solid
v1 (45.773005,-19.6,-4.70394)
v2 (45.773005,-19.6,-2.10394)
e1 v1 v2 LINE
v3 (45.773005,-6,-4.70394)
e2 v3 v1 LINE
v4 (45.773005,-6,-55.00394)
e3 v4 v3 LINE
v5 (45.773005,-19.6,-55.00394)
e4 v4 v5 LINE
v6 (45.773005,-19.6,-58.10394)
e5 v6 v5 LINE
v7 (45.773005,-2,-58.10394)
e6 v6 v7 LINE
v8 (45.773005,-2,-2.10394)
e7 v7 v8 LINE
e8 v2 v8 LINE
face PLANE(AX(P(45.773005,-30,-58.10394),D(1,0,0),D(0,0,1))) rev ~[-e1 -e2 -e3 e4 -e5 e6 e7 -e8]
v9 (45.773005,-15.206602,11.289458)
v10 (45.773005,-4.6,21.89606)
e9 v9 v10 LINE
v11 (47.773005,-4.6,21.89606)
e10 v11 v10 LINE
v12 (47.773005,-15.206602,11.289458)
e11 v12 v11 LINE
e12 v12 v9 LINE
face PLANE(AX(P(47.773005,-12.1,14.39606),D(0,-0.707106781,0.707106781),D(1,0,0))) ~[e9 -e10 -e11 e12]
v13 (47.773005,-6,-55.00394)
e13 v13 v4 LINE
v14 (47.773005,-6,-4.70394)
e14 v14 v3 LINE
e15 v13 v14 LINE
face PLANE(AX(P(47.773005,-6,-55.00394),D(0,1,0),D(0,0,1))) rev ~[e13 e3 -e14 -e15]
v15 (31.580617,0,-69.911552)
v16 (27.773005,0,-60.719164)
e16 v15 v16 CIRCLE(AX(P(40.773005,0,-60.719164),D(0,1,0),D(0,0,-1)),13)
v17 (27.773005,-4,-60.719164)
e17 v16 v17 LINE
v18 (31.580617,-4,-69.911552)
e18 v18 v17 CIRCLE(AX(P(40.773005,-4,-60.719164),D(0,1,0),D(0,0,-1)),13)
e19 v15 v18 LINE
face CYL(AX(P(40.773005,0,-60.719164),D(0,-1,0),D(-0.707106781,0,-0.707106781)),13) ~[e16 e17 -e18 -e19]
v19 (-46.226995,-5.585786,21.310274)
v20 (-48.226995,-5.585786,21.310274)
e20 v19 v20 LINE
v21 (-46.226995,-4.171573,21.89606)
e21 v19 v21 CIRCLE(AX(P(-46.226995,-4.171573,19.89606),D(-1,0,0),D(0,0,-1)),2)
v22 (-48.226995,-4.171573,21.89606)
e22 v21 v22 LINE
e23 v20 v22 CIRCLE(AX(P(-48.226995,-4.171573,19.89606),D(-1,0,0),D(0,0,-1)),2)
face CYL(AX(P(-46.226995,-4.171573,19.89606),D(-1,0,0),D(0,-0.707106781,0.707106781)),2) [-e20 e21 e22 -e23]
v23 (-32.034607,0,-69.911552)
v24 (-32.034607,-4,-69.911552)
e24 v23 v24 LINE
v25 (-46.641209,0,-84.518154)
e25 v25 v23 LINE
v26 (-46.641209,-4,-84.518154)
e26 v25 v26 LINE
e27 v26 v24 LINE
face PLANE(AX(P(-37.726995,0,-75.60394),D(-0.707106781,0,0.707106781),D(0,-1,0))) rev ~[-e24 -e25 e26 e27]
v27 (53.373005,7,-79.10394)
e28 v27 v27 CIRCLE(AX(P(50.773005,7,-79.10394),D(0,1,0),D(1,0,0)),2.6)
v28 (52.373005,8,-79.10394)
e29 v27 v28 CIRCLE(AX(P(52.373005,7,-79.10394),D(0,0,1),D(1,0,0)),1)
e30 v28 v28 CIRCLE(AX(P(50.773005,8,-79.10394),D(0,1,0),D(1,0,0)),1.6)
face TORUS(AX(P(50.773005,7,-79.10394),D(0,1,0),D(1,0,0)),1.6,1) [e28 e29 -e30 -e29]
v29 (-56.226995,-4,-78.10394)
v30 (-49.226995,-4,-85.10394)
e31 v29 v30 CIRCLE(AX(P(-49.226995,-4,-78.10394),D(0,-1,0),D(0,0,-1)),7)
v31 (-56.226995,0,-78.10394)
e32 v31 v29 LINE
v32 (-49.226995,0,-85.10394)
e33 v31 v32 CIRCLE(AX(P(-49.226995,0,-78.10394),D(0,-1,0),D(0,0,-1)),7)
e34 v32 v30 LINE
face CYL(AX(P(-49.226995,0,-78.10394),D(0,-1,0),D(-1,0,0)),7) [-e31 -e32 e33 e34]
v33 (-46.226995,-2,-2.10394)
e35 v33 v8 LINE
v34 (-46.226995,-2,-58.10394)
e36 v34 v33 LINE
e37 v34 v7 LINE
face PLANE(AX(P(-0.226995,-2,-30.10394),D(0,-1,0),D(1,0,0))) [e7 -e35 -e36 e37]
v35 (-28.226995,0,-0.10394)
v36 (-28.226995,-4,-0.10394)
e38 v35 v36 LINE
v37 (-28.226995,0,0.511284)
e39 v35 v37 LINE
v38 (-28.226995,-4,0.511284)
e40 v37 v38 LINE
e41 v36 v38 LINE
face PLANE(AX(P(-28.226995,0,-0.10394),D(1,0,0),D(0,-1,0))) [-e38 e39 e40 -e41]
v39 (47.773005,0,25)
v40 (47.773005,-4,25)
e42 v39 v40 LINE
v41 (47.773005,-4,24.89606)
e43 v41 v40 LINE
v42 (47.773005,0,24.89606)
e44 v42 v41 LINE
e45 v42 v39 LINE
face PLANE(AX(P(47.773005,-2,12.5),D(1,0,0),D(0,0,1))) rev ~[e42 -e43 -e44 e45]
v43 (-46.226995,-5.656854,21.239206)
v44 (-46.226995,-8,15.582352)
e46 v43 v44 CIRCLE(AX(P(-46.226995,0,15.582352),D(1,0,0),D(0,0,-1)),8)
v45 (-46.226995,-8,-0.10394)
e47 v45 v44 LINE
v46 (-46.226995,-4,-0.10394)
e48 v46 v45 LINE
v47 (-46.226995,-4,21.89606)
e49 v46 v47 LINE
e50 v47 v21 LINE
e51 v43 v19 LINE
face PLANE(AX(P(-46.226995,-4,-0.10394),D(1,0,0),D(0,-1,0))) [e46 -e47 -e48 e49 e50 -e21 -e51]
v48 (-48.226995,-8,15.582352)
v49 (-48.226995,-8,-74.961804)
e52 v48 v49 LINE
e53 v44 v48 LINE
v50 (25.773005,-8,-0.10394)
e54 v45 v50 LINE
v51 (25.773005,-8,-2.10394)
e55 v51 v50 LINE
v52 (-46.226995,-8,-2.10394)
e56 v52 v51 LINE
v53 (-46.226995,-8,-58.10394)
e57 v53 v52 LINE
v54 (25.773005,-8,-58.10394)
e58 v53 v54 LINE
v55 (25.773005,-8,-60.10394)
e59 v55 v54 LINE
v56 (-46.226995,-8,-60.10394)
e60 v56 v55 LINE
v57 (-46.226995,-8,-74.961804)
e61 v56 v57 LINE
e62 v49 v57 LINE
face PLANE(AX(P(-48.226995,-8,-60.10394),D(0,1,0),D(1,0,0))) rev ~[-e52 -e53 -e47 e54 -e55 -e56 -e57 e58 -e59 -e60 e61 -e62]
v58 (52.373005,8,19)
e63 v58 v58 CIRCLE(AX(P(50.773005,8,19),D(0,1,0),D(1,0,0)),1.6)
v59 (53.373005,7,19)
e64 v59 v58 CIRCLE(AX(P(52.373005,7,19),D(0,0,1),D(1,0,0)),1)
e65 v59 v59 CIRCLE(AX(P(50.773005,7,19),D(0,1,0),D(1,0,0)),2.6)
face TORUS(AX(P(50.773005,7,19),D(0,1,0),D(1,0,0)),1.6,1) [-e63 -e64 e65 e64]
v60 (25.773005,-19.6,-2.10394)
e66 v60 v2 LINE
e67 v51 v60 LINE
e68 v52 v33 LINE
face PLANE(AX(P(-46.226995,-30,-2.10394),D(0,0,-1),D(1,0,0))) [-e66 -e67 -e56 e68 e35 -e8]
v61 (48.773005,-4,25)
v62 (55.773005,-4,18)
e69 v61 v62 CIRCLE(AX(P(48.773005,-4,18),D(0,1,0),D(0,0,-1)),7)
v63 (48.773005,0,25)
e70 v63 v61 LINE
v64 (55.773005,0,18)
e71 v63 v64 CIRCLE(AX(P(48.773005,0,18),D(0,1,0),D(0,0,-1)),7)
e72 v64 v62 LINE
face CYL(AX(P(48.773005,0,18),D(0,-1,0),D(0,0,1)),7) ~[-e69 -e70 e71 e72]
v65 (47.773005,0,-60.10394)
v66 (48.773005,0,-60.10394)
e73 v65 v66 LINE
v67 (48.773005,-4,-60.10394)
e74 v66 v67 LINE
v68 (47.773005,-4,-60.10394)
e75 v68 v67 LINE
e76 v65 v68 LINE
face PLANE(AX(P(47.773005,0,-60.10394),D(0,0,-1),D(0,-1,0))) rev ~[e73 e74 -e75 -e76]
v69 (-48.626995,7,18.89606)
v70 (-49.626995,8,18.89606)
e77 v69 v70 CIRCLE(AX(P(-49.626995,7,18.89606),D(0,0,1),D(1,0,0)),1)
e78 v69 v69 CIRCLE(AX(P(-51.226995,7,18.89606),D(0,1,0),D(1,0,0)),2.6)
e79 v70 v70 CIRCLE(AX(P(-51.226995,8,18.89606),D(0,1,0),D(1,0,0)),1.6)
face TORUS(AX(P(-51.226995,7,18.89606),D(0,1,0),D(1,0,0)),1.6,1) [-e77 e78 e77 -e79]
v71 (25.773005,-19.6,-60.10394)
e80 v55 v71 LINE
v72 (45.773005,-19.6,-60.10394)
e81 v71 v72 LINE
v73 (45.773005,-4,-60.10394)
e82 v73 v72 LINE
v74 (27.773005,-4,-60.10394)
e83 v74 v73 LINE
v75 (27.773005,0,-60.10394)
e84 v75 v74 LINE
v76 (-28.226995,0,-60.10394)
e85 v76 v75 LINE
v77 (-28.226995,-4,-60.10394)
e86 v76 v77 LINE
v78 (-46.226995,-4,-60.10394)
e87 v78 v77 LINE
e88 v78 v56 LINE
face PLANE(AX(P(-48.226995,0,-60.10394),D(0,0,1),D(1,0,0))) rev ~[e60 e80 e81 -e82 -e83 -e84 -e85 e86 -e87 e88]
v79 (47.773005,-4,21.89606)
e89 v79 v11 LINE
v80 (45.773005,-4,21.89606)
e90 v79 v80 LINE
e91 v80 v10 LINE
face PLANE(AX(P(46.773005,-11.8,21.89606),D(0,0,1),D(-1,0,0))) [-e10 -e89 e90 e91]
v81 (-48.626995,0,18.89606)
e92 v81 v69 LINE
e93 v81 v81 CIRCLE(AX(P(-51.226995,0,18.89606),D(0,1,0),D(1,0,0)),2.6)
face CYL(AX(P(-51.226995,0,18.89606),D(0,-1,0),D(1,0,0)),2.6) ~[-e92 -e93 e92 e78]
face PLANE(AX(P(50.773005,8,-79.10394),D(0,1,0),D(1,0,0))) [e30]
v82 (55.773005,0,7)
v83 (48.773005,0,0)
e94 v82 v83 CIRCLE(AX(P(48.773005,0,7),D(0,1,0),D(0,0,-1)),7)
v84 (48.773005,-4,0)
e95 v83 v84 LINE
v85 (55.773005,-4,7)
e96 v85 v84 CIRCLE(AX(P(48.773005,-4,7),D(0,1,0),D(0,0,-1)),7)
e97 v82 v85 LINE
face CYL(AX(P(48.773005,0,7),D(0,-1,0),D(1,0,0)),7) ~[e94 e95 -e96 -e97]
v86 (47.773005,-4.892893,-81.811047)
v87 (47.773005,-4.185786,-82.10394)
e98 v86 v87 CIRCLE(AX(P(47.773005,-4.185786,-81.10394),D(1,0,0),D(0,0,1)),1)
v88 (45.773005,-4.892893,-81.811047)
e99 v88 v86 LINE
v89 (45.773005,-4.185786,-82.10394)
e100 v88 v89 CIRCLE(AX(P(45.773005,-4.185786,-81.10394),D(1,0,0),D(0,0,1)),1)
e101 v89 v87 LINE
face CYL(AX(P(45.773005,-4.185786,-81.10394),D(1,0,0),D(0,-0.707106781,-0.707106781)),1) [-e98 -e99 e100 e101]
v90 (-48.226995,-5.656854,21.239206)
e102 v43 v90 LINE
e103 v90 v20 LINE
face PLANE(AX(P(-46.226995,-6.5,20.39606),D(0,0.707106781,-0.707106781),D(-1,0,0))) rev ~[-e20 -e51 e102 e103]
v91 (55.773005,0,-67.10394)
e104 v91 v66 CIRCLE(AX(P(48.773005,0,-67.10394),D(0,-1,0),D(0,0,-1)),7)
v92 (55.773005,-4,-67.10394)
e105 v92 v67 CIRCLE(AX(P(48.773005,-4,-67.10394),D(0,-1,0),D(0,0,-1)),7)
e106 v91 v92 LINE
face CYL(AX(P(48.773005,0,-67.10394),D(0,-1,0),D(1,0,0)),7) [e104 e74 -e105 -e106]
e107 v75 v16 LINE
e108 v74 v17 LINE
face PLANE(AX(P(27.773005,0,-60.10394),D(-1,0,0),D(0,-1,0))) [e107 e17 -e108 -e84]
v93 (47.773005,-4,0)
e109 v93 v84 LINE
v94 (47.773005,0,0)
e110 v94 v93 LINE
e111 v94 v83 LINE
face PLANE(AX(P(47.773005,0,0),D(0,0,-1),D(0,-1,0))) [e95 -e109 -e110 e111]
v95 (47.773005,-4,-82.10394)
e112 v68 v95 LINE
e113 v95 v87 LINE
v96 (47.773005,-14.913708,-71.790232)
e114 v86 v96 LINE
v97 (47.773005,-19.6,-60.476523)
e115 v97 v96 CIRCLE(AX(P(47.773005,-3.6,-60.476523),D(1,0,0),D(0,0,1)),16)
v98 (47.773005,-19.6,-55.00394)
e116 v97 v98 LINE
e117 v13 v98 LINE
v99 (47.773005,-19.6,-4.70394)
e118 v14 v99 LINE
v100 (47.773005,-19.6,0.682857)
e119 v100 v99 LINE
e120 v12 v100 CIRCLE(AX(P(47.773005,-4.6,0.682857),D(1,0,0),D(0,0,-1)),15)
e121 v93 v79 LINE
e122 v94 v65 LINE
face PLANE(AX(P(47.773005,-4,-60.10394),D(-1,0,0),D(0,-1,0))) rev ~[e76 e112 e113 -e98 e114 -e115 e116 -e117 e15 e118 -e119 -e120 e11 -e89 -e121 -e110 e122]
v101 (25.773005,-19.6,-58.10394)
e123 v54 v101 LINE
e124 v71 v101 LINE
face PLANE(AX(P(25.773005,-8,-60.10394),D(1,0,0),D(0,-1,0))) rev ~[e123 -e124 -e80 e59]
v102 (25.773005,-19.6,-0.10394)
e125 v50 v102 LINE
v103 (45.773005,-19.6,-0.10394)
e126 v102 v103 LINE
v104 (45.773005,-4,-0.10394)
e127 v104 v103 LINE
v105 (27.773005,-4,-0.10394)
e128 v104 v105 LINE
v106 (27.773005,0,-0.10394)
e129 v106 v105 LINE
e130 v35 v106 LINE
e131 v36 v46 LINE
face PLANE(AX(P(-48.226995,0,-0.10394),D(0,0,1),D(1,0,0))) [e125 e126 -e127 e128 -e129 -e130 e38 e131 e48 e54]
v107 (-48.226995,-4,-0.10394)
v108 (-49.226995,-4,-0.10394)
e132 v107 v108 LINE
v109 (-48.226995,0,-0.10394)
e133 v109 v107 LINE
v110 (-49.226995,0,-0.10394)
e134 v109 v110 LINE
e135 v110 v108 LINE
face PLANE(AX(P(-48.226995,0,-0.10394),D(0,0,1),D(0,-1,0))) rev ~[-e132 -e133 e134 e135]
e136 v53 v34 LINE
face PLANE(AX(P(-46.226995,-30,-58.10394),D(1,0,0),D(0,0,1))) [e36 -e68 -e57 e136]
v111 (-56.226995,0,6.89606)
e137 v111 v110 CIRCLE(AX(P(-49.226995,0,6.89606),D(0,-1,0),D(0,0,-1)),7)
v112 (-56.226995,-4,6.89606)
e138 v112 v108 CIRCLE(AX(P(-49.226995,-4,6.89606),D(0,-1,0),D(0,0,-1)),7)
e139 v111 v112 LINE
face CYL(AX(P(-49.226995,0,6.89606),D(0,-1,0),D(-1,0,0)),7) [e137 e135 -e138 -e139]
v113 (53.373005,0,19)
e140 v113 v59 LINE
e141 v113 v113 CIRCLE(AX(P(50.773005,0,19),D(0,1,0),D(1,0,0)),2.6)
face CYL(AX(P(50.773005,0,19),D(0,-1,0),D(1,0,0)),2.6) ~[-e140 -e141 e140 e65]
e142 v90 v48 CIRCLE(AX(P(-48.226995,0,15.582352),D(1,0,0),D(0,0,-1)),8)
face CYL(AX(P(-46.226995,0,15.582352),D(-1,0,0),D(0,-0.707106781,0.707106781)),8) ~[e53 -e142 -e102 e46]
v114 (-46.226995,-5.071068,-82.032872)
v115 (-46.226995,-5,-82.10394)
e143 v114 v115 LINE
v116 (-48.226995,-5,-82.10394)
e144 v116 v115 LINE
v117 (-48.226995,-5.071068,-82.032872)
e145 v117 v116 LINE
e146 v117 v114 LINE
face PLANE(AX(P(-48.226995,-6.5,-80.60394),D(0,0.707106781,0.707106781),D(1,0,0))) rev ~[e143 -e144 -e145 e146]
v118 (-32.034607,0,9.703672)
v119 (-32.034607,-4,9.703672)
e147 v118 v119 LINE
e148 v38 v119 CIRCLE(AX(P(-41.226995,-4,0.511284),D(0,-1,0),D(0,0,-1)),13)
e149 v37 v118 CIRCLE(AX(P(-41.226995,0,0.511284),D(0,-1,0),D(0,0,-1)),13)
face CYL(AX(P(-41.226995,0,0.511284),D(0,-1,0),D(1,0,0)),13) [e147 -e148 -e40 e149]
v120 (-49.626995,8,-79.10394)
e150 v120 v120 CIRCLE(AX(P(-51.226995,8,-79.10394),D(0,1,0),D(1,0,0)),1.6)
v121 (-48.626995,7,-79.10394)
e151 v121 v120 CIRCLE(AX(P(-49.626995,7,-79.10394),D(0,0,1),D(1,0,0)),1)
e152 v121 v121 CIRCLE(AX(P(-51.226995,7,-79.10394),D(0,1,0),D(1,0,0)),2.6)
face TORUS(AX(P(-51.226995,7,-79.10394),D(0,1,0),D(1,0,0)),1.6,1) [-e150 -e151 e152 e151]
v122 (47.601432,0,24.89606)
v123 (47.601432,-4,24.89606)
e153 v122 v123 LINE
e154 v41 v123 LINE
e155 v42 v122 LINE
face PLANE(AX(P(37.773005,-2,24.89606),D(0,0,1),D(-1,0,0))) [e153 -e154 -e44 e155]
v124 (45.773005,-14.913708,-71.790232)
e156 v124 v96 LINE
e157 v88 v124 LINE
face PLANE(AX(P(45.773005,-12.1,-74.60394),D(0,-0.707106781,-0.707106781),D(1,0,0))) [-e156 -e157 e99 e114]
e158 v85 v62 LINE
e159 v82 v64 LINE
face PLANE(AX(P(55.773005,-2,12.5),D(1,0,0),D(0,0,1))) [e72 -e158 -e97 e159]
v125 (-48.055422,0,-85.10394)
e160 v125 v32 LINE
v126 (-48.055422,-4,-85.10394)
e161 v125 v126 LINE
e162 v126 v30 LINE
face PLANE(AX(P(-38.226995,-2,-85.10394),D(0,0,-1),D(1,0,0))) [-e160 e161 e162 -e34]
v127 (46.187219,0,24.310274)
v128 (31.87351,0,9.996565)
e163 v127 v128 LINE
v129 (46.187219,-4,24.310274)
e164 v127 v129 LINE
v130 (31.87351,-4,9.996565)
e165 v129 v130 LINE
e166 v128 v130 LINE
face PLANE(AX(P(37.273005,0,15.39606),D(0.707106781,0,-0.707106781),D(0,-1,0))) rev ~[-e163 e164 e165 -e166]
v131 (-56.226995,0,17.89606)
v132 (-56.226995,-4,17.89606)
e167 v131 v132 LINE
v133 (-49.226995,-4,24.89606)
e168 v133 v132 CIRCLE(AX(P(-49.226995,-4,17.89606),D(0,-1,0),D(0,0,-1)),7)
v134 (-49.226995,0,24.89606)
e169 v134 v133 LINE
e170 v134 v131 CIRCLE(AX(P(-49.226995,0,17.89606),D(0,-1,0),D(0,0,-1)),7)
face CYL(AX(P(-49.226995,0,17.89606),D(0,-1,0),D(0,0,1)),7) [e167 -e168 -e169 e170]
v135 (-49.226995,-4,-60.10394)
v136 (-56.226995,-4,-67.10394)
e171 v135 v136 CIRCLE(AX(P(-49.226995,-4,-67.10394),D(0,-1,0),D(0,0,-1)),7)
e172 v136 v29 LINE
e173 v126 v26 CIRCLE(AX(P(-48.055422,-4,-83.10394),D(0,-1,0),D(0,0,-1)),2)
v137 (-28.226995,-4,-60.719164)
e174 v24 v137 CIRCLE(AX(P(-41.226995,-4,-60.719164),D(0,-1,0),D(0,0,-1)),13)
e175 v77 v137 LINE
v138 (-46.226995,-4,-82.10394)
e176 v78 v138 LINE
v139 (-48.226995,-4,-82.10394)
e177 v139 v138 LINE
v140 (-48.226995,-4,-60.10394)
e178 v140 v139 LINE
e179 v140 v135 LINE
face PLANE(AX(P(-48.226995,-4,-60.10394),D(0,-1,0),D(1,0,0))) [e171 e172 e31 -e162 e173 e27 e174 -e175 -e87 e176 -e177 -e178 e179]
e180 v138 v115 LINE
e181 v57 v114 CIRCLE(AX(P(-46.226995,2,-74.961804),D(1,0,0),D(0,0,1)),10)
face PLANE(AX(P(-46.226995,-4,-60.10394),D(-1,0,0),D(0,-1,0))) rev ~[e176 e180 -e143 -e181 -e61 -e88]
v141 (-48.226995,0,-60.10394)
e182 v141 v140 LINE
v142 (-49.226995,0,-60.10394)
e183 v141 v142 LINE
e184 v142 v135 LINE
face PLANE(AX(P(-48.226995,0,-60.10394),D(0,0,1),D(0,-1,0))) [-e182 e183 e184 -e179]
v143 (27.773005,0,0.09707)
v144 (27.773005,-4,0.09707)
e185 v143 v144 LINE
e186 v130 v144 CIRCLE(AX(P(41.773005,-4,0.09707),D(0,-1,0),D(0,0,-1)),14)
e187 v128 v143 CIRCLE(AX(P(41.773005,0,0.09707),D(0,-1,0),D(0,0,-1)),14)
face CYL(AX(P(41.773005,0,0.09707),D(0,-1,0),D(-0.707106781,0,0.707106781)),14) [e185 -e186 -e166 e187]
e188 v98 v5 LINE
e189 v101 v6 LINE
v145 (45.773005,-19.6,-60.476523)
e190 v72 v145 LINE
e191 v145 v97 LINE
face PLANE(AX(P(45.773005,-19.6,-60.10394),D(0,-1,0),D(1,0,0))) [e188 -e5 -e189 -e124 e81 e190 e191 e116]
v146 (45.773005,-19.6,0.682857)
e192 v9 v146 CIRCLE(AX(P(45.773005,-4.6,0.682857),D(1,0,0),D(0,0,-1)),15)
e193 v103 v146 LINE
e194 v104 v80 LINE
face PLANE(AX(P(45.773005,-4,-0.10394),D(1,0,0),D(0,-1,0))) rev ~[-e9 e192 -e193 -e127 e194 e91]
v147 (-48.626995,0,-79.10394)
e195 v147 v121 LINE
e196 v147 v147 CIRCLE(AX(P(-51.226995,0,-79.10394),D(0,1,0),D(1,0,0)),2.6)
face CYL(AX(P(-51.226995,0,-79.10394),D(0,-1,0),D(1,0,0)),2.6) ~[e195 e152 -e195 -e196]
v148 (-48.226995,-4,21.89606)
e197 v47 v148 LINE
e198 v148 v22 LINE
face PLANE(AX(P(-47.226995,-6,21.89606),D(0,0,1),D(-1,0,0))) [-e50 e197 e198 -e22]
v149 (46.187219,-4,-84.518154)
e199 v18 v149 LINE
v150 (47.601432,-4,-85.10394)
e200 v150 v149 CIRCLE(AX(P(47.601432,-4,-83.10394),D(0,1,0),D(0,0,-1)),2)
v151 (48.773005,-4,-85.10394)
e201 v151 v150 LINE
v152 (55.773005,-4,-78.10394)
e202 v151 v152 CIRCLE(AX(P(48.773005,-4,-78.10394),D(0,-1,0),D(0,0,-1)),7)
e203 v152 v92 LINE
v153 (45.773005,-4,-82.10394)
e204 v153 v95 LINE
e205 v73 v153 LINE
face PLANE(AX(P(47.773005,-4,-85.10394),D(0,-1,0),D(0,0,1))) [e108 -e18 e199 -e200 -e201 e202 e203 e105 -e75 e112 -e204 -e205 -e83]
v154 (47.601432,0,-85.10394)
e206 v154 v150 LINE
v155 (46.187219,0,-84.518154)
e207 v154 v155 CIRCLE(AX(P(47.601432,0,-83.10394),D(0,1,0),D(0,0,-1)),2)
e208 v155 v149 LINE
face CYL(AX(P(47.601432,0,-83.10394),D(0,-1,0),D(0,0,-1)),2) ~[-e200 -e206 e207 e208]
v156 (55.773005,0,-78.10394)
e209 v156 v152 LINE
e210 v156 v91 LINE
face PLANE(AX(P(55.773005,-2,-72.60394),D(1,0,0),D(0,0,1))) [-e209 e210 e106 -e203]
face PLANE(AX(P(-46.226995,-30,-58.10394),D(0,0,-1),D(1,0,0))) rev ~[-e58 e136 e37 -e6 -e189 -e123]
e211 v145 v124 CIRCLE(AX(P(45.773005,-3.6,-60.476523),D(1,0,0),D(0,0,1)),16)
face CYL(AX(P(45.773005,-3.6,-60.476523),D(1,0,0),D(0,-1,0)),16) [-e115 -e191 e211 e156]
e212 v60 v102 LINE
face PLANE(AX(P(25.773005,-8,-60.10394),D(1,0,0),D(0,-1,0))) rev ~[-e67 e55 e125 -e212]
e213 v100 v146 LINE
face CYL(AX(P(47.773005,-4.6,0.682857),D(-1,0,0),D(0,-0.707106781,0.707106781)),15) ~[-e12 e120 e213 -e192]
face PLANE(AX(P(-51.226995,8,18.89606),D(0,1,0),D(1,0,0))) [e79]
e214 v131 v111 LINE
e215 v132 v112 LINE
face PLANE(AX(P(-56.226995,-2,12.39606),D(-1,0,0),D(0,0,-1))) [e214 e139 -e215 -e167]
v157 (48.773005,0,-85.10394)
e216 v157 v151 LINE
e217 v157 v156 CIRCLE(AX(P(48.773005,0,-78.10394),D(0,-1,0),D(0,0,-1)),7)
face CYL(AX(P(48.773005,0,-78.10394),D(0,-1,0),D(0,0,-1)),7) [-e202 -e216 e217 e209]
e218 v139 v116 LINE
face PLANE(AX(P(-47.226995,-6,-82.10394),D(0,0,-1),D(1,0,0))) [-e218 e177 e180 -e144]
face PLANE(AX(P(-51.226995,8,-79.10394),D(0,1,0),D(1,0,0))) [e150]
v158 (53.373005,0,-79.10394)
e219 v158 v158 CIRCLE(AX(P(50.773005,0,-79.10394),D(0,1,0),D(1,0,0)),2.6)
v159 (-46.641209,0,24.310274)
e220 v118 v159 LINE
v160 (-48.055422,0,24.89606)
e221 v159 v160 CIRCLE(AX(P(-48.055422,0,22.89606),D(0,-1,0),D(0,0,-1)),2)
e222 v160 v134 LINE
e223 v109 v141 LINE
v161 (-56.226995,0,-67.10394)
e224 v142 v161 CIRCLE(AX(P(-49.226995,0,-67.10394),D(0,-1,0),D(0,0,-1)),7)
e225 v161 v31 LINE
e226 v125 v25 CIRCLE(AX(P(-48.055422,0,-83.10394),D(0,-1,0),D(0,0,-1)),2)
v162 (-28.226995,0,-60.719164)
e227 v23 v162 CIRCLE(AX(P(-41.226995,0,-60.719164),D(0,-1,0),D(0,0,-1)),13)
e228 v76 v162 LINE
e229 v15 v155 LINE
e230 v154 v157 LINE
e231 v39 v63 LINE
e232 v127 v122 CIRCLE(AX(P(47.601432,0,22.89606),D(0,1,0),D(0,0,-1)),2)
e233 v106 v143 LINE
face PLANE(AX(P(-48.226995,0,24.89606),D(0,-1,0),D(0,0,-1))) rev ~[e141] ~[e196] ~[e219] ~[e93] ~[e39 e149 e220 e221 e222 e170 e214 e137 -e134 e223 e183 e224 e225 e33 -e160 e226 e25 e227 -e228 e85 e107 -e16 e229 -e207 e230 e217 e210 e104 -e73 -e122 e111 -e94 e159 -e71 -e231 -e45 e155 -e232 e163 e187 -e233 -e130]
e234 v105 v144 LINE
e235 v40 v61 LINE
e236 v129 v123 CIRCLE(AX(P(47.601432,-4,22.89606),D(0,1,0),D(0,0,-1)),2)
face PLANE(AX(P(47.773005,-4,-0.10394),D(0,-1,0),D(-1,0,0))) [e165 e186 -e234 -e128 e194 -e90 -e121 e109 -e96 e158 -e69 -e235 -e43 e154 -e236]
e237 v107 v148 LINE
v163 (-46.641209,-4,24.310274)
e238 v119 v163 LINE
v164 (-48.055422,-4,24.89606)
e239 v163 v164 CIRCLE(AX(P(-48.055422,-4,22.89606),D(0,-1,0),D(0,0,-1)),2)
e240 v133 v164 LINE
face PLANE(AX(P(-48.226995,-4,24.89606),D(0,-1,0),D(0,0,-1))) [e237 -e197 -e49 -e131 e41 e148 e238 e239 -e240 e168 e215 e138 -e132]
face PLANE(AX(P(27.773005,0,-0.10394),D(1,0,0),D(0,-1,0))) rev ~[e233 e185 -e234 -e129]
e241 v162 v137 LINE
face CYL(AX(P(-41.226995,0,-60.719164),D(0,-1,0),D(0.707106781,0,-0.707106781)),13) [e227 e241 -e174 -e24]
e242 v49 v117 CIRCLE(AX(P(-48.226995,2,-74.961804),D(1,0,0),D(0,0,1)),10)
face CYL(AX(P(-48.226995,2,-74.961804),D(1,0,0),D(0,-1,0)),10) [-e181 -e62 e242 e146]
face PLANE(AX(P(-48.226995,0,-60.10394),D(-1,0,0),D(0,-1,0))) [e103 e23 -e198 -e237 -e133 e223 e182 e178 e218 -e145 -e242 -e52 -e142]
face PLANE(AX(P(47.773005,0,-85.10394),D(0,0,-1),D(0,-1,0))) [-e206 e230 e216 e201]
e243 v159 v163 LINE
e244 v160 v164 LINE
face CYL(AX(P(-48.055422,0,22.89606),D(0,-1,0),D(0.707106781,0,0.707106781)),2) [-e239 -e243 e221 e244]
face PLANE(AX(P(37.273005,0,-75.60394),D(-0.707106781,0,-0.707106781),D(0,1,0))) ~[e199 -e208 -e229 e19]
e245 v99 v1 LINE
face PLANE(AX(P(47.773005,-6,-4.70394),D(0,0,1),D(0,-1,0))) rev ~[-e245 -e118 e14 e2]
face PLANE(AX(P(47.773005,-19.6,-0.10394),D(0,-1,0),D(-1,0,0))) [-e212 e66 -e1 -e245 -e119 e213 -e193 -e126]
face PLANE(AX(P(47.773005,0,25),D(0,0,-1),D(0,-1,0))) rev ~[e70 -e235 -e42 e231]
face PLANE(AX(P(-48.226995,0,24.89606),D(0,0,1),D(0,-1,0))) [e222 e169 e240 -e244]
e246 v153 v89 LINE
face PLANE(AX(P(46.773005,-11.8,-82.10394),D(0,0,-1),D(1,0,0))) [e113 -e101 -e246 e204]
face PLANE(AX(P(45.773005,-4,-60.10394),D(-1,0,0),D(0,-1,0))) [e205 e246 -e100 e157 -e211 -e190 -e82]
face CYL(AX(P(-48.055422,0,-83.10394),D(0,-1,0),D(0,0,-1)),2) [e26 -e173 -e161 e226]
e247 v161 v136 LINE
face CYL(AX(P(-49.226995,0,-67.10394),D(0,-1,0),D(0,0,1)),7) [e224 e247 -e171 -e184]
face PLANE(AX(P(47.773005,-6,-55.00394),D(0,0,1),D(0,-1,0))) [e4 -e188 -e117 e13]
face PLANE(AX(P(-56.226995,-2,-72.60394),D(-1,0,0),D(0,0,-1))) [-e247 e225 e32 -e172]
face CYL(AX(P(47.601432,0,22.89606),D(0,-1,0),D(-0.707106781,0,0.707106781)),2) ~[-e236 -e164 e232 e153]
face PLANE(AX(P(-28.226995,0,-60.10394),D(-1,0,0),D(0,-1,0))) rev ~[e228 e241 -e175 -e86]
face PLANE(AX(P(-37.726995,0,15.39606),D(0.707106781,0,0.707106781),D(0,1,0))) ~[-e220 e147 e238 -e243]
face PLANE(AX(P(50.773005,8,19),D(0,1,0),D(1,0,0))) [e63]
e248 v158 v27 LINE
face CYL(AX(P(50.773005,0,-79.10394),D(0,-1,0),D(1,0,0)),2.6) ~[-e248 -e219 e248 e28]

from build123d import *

# Parameters (mm, degrees)
SKETCH_W        = 96
SKETCH_H        = 60
PAD_DEPTH       = 30
SKETCH001_W     = 92
SKETCH001_H     = 56
POCKET_DEPTH    = 28
SKETCH002_W     = 74
SKETCH002_H     = 22
POCKET001_DEPTH = 60
SKETCH003_W     = 22
SKETCH003_H     = 4
POCKET002_DEPTH = 60
SKETCH005_W     = 22
SKETCH005_H     = 6.4
POCKET003_DEPTH = 60
SKETCH004_W     = 50.3
SKETCH004_H     = 13.6
POCKET004_DEPTH = 5
SKETCH006_W     = 20
SKETCH006_H     = 4
PAD001_DEPTH    = 25
SKETCH007_W     = 20
SKETCH007_H     = 4
PAD002_DEPTH    = 25
SKETCH008_W     = 25
SKETCH008_H     = 4
PAD003_DEPTH    = 8
SKETCH009_W     = 25
SKETCH009_H     = 4
PAD004_DEPTH    = 8
SKETCH010_R     = 2.6
PAD005_DEPTH    = 8
FILLET_R        = 1
FILLET001_R     = 1
FILLET002_R     = 1
FILLET003_R     = 1
CHAMFER_SIZE    = 19
FILLET004_R     = 7
FILLET005_R     = 2
FILLET006_R     = 13
FILLET007_R     = 7
CHAMFER001_SIZE = 19
FILLET008_R     = 14
FILLET009_R     = 2
FILLET010_R     = 7
FILLET011_R     = 7
CHAMFER002_SIZE = 19
FILLET012_R     = 13
FILLET013_R     = 2
FILLET014_R     = 7
FILLET015_R     = 7
FILLET016_R     = 7
FILLET017_R     = 7
CHAMFER003_SIZE = 19
FILLET018_R     = 2
FILLET019_R     = 13
SKETCH011_W     = 2
SKETCH011_H     = 15.6
SKETCH011_H_2   = 4
PAD006_DEPTH    = 22
CHAMFER004_SIZE = 15
FILLET020_R     = 15
CHAMFER005_SIZE = 3
FILLET021_R     = 2
FILLET022_R     = 8
SKETCH012_W     = 2
SKETCH012_H     = 15.6
SKETCH012_H_2   = 4
PAD007_DEPTH    = 22
CHAMFER006_SIZE = 15
FILLET023_R     = 16
FILLET024_R     = 1
CHAMFER007_SIZE = 3
FILLET025_R     = 10


with BuildPart() as part:
    # Sketch → Pad (new body)
    with BuildSketch(Plane.XZ):
        with Locations((-0.226995, -30.10394)):
            Rectangle(SKETCH_W, SKETCH_H)
    extrude(amount=PAD_DEPTH)

    # Sketch001 (on Face6 of Pad) → Pocket (cut)
    with BuildSketch(Plane.XZ.offset(30)):
        with Locations((-0.226995, -30.10394)):
            Rectangle(SKETCH001_W, SKETCH001_H)
    extrude(amount=-POCKET_DEPTH, mode=Mode.SUBTRACT)

    # Sketch002 (on Face6 of Pocket) → Pocket001 (cut)
    with BuildSketch(Plane(origin=(0, 0, -60.10394), x_dir=(1, 0, 0), z_dir=(0, 0, -1))):
        with Locations((-11.226995, 19)):
            Rectangle(SKETCH002_W, SKETCH002_H)
    extrude(amount=-POCKET001_DEPTH, mode=Mode.SUBTRACT)

    # Sketch003 (on Face8 of Pocket001) → Pocket002 (cut)
    with BuildSketch(Plane(origin=(0, 0, -60.10394), x_dir=(1, 0, 0), z_dir=(0, 0, -1))):
        with Locations((36.773005, 28)):
            Rectangle(SKETCH003_W, SKETCH003_H)
    extrude(amount=-POCKET002_DEPTH, mode=Mode.SUBTRACT)

    # Sketch005 (on Face8 of Pocket002) → Pocket003 (cut)
    with BuildSketch(Plane(origin=(0, 0, -60.10394), x_dir=(1, 0, 0), z_dir=(0, 0, -1))):
        with Locations((36.773005, 22.8)):
            Rectangle(SKETCH005_W, SKETCH005_H)
    extrude(amount=-POCKET003_DEPTH, mode=Mode.SUBTRACT)

    # Sketch004 (on Face3 of Pocket002) → Pocket004 (cut)
    with BuildSketch(Plane(origin=(47.773005, 0, 0), x_dir=(0, 0, 1), z_dir=(1, 0, 0))):
        with Locations((-29.85394, 12.8)):
            Rectangle(SKETCH004_W, SKETCH004_H)
    extrude(amount=-POCKET004_DEPTH, mode=Mode.SUBTRACT)

    # Sketch006 (on Face1 of Pocket004) → Pad001 (join)
    with BuildSketch(Plane(origin=(0, 0, -0.10394), x_dir=(-1, 0, 0), z_dir=(0, 0, 1))):
        with Locations((-37.773005, 2)):
            Rectangle(SKETCH006_W, SKETCH006_H)
        with Locations((38.226995, 2)):
            Rectangle(SKETCH006_W, SKETCH006_H)
    extrude(amount=PAD001_DEPTH)

    # Sketch007 (on Face14 of Pad001) → Pad002 (join)
    with BuildSketch(Plane(origin=(0, 0, -60.10394), x_dir=(1, 0, 0), z_dir=(0, 0, -1))):
        with Locations((-38.226995, 2)):
            Rectangle(SKETCH007_W, SKETCH007_H)
        with Locations((37.773005, 2)):
            Rectangle(SKETCH007_W, SKETCH007_H)
    extrude(amount=PAD002_DEPTH)

    # Sketch008 (on Face19 of Pad002) → Pad003 (join)
    with BuildSketch(Plane(origin=(47.773005, 0, 0), x_dir=(0, 0, 1), z_dir=(1, 0, 0))):
        with Locations((-72.60394, 2)):
            Rectangle(SKETCH008_W, SKETCH008_H)
        with Locations((12.5, 2)):
            Rectangle(SKETCH008_W, SKETCH008_H)
    extrude(amount=PAD003_DEPTH)

    # Sketch009 (on Face31 of Pad003) → Pad004 (join)
    with BuildSketch(Plane(origin=(-48.226995, 0, 0), x_dir=(0, 0, -1), z_dir=(-1, 0, 0))):
        with Locations((-12.39606, 2)):
            Rectangle(SKETCH009_W, SKETCH009_H)
        with Locations((72.60394, 2)):
            Rectangle(SKETCH009_W, SKETCH009_H)
    extrude(amount=PAD004_DEPTH)

    # Sketch010 (on Face2 of Pad004) → Pad005 (join)
    with BuildSketch(Plane(origin=(0, 0, 0), x_dir=(1, 0, 0), z_dir=(0, 1, 0))):
        with Locations((50.773005, 79.10394)):
            Circle(SKETCH010_R)
        with Locations((50.773005, -19)):
            Circle(SKETCH010_R)
        with Locations((-51.226995, -18.89606)):
            Circle(SKETCH010_R)
        with Locations((-51.226995, 79.10394)):
            Circle(SKETCH010_R)
    extrude(amount=PAD005_DEPTH)

    # Fillet
    fillet_edges = [part.edges().sort_by_distance(p)[0] for p in [
        (48.173005, 8, 19),
    ]]
    fillet(fillet_edges, radius=FILLET_R)

    # Fillet001
    fillet001_edges = [part.edges().sort_by_distance(p)[0] for p in [
        (48.173005, 8, -79.10394),
    ]]
    fillet(fillet001_edges, radius=FILLET001_R)

    # Fillet002
    fillet002_edges = [part.edges().sort_by_distance(p)[0] for p in [
        (-53.826995, 8, -79.10394),
    ]]
    fillet(fillet002_edges, radius=FILLET002_R)

    # Fillet003
    fillet003_edges = [part.edges().sort_by_distance(p)[0] for p in [
        (-53.826995, 8, 18.89606),
    ]]
    fillet(fillet003_edges, radius=FILLET003_R)

    # Chamfer
    chamfer_edges = [part.edges().sort_by_distance(p)[0] for p in [
        (27.773005, -2, -85.10394),
    ]]
    chamfer(chamfer_edges, length=CHAMFER_SIZE)

    # Fillet004
    fillet004_edges = [part.edges().sort_by_distance(p)[0] for p in [
        (55.773005, -2, -85.10394),
    ]]
    fillet(fillet004_edges, radius=FILLET004_R)

    # Fillet005
    fillet005_edges = [part.edges().sort_by_distance(p)[0] for p in [
        (46.773005, -2, -85.10394),
    ]]
    fillet(fillet005_edges, radius=FILLET005_R)

    # Fillet006
    fillet006_edges = [part.edges().sort_by_distance(p)[0] for p in [
        (27.773005, -2, -66.10394),
    ]]
    fillet(fillet006_edges, radius=FILLET006_R)

    # Fillet007
    fillet007_edges = [part.edges().sort_by_distance(p)[0] for p in [
        (55.773005, -2, -60.10394),
    ]]
    fillet(fillet007_edges, radius=FILLET007_R)

    # Chamfer001
    chamfer001_edges = [part.edges().sort_by_distance(p)[0] for p in [
        (27.773005, -2, 24.89606),
    ]]
    chamfer(chamfer001_edges, length=CHAMFER001_SIZE)

    # Fillet008
    fillet008_edges = [part.edges().sort_by_distance(p)[0] for p in [
        (27.773005, -2, 5.89606),
    ]]
    fillet(fillet008_edges, radius=FILLET008_R)

    # Fillet009
    fillet009_edges = [part.edges().sort_by_distance(p)[0] for p in [
        (46.773005, -2, 24.89606),
    ]]
    fillet(fillet009_edges, radius=FILLET009_R)

    # Fillet010
    fillet010_edges = [part.edges().sort_by_distance(p)[0] for p in [
        (55.773005, -2, 25),
    ]]
    fillet(fillet010_edges, radius=FILLET010_R)

    # Fillet011
    fillet011_edges = [part.edges().sort_by_distance(p)[0] for p in [
        (55.773005, -2, 0),
    ]]
    fillet(fillet011_edges, radius=FILLET011_R)

    # Chamfer002
    chamfer002_edges = [part.edges().sort_by_distance(p)[0] for p in [
        (-28.226995, -2, 24.89606),
    ]]
    chamfer(chamfer002_edges, length=CHAMFER002_SIZE)

    # Fillet012
    fillet012_edges = [part.edges().sort_by_distance(p)[0] for p in [
        (-28.226995, -2, 5.89606),
    ]]
    fillet(fillet012_edges, radius=FILLET012_R)

    # Fillet013
    fillet013_edges = [part.edges().sort_by_distance(p)[0] for p in [
        (-47.226995, -2, 24.89606),
    ]]
    fillet(fillet013_edges, radius=FILLET013_R)

    # Fillet014
    fillet014_edges = [part.edges().sort_by_distance(p)[0] for p in [
        (-56.226995, -2, 24.89606),
    ]]
    fillet(fillet014_edges, radius=FILLET014_R)

    # Fillet015
    fillet015_edges = [part.edges().sort_by_distance(p)[0] for p in [
        (-56.226995, -2, -0.10394),
    ]]
    fillet(fillet015_edges, radius=FILLET015_R)

    # Fillet016
    fillet016_edges = [part.edges().sort_by_distance(p)[0] for p in [
        (-56.226995, -2, -60.10394),
    ]]
    fillet(fillet016_edges, radius=FILLET016_R)

    # Fillet017
    fillet017_edges = [part.edges().sort_by_distance(p)[0] for p in [
        (-56.226995, -2, -85.10394),
    ]]
    fillet(fillet017_edges, radius=FILLET017_R)

    # Chamfer003
    chamfer003_edges = [part.edges().sort_by_distance(p)[0] for p in [
        (-28.226995, -2, -85.10394),
    ]]
    chamfer(chamfer003_edges, length=CHAMFER003_SIZE)

    # Fillet018
    fillet018_edges = [part.edges().sort_by_distance(p)[0] for p in [
        (-47.226995, -2, -85.10394),
    ]]
    fillet(fillet018_edges, radius=FILLET018_R)

    # Fillet019
    fillet019_edges = [part.edges().sort_by_distance(p)[0] for p in [
        (-28.226995, -2, -66.10394),
    ]]
    fillet(fillet019_edges, radius=FILLET019_R)

    # Sketch011 (on Face13 of Fillet019) → Pad006 (join)
    with BuildSketch(Plane(origin=(0, 0, -0.10394), x_dir=(-1, 0, 0), z_dir=(0, 0, 1))):
        with Locations((-46.773005, 11.8)):
            Rectangle(SKETCH011_W, SKETCH011_H)
        with Locations((47.226995, 6)):
            Rectangle(SKETCH011_W, SKETCH011_H_2)
    extrude(amount=PAD006_DEPTH)

    # Chamfer004
    chamfer004_edges = [part.edges().sort_by_distance(p)[0] for p in [
        (46.773005, -19.6, 21.89606),
    ]]
    chamfer(chamfer004_edges, length=CHAMFER004_SIZE)

    # Fillet020
    fillet020_edges = [part.edges().sort_by_distance(p)[0] for p in [
        (46.773005, -19.6, 6.89606),
    ]]
    fillet(fillet020_edges, radius=FILLET020_R)

    # Chamfer005
    chamfer005_edges = [part.edges().sort_by_distance(p)[0] for p in [
        (-47.226995, -8, 21.89606),
    ]]
    chamfer(chamfer005_edges, length=CHAMFER005_SIZE)

    # Fillet021
    fillet021_edges = [part.edges().sort_by_distance(p)[0] for p in [
        (-47.226995, -5, 21.89606),
    ]]
    fillet(fillet021_edges, radius=FILLET021_R)

    # Fillet022
    fillet022_edges = [part.edges().sort_by_distance(p)[0] for p in [
        (-47.226995, -8, 18.89606),
    ]]
    fillet(fillet022_edges, radius=FILLET022_R)

    # Sketch012 (on Face24 of Fillet022) → Pad007 (join)
    with BuildSketch(Plane(origin=(0, 0, -60.10394), x_dir=(1, 0, 0), z_dir=(0, 0, -1))):
        with Locations((46.773005, 11.8)):
            Rectangle(SKETCH012_W, SKETCH012_H)
        with Locations((-47.226995, 6)):
            Rectangle(SKETCH012_W, SKETCH012_H_2)
    extrude(amount=PAD007_DEPTH)

    # Chamfer006
    chamfer006_edges = [part.edges().sort_by_distance(p)[0] for p in [
        (46.773005, -19.6, -82.10394),
    ]]
    chamfer(chamfer006_edges, length=CHAMFER006_SIZE)

    # Fillet023
    fillet023_edges = [part.edges().sort_by_distance(p)[0] for p in [
        (46.773005, -19.6, -67.10394),
    ]]
    fillet(fillet023_edges, radius=FILLET023_R)

    # Fillet024
    fillet024_edges = [part.edges().sort_by_distance(p)[0] for p in [
        (46.773005, -4.6, -82.10394),
    ]]
    fillet(fillet024_edges, radius=FILLET024_R)

    # Chamfer007
    chamfer007_edges = [part.edges().sort_by_distance(p)[0] for p in [
        (-47.226995, -8, -82.10394),
    ]]
    chamfer(chamfer007_edges, length=CHAMFER007_SIZE)

    # Fillet025
    fillet025_edges = [part.edges().sort_by_distance(p)[0] for p in [
        (-47.226995, -8, -79.10394),
    ]]
    fillet(fillet025_edges, radius=FILLET025_R)


solid = part.part
